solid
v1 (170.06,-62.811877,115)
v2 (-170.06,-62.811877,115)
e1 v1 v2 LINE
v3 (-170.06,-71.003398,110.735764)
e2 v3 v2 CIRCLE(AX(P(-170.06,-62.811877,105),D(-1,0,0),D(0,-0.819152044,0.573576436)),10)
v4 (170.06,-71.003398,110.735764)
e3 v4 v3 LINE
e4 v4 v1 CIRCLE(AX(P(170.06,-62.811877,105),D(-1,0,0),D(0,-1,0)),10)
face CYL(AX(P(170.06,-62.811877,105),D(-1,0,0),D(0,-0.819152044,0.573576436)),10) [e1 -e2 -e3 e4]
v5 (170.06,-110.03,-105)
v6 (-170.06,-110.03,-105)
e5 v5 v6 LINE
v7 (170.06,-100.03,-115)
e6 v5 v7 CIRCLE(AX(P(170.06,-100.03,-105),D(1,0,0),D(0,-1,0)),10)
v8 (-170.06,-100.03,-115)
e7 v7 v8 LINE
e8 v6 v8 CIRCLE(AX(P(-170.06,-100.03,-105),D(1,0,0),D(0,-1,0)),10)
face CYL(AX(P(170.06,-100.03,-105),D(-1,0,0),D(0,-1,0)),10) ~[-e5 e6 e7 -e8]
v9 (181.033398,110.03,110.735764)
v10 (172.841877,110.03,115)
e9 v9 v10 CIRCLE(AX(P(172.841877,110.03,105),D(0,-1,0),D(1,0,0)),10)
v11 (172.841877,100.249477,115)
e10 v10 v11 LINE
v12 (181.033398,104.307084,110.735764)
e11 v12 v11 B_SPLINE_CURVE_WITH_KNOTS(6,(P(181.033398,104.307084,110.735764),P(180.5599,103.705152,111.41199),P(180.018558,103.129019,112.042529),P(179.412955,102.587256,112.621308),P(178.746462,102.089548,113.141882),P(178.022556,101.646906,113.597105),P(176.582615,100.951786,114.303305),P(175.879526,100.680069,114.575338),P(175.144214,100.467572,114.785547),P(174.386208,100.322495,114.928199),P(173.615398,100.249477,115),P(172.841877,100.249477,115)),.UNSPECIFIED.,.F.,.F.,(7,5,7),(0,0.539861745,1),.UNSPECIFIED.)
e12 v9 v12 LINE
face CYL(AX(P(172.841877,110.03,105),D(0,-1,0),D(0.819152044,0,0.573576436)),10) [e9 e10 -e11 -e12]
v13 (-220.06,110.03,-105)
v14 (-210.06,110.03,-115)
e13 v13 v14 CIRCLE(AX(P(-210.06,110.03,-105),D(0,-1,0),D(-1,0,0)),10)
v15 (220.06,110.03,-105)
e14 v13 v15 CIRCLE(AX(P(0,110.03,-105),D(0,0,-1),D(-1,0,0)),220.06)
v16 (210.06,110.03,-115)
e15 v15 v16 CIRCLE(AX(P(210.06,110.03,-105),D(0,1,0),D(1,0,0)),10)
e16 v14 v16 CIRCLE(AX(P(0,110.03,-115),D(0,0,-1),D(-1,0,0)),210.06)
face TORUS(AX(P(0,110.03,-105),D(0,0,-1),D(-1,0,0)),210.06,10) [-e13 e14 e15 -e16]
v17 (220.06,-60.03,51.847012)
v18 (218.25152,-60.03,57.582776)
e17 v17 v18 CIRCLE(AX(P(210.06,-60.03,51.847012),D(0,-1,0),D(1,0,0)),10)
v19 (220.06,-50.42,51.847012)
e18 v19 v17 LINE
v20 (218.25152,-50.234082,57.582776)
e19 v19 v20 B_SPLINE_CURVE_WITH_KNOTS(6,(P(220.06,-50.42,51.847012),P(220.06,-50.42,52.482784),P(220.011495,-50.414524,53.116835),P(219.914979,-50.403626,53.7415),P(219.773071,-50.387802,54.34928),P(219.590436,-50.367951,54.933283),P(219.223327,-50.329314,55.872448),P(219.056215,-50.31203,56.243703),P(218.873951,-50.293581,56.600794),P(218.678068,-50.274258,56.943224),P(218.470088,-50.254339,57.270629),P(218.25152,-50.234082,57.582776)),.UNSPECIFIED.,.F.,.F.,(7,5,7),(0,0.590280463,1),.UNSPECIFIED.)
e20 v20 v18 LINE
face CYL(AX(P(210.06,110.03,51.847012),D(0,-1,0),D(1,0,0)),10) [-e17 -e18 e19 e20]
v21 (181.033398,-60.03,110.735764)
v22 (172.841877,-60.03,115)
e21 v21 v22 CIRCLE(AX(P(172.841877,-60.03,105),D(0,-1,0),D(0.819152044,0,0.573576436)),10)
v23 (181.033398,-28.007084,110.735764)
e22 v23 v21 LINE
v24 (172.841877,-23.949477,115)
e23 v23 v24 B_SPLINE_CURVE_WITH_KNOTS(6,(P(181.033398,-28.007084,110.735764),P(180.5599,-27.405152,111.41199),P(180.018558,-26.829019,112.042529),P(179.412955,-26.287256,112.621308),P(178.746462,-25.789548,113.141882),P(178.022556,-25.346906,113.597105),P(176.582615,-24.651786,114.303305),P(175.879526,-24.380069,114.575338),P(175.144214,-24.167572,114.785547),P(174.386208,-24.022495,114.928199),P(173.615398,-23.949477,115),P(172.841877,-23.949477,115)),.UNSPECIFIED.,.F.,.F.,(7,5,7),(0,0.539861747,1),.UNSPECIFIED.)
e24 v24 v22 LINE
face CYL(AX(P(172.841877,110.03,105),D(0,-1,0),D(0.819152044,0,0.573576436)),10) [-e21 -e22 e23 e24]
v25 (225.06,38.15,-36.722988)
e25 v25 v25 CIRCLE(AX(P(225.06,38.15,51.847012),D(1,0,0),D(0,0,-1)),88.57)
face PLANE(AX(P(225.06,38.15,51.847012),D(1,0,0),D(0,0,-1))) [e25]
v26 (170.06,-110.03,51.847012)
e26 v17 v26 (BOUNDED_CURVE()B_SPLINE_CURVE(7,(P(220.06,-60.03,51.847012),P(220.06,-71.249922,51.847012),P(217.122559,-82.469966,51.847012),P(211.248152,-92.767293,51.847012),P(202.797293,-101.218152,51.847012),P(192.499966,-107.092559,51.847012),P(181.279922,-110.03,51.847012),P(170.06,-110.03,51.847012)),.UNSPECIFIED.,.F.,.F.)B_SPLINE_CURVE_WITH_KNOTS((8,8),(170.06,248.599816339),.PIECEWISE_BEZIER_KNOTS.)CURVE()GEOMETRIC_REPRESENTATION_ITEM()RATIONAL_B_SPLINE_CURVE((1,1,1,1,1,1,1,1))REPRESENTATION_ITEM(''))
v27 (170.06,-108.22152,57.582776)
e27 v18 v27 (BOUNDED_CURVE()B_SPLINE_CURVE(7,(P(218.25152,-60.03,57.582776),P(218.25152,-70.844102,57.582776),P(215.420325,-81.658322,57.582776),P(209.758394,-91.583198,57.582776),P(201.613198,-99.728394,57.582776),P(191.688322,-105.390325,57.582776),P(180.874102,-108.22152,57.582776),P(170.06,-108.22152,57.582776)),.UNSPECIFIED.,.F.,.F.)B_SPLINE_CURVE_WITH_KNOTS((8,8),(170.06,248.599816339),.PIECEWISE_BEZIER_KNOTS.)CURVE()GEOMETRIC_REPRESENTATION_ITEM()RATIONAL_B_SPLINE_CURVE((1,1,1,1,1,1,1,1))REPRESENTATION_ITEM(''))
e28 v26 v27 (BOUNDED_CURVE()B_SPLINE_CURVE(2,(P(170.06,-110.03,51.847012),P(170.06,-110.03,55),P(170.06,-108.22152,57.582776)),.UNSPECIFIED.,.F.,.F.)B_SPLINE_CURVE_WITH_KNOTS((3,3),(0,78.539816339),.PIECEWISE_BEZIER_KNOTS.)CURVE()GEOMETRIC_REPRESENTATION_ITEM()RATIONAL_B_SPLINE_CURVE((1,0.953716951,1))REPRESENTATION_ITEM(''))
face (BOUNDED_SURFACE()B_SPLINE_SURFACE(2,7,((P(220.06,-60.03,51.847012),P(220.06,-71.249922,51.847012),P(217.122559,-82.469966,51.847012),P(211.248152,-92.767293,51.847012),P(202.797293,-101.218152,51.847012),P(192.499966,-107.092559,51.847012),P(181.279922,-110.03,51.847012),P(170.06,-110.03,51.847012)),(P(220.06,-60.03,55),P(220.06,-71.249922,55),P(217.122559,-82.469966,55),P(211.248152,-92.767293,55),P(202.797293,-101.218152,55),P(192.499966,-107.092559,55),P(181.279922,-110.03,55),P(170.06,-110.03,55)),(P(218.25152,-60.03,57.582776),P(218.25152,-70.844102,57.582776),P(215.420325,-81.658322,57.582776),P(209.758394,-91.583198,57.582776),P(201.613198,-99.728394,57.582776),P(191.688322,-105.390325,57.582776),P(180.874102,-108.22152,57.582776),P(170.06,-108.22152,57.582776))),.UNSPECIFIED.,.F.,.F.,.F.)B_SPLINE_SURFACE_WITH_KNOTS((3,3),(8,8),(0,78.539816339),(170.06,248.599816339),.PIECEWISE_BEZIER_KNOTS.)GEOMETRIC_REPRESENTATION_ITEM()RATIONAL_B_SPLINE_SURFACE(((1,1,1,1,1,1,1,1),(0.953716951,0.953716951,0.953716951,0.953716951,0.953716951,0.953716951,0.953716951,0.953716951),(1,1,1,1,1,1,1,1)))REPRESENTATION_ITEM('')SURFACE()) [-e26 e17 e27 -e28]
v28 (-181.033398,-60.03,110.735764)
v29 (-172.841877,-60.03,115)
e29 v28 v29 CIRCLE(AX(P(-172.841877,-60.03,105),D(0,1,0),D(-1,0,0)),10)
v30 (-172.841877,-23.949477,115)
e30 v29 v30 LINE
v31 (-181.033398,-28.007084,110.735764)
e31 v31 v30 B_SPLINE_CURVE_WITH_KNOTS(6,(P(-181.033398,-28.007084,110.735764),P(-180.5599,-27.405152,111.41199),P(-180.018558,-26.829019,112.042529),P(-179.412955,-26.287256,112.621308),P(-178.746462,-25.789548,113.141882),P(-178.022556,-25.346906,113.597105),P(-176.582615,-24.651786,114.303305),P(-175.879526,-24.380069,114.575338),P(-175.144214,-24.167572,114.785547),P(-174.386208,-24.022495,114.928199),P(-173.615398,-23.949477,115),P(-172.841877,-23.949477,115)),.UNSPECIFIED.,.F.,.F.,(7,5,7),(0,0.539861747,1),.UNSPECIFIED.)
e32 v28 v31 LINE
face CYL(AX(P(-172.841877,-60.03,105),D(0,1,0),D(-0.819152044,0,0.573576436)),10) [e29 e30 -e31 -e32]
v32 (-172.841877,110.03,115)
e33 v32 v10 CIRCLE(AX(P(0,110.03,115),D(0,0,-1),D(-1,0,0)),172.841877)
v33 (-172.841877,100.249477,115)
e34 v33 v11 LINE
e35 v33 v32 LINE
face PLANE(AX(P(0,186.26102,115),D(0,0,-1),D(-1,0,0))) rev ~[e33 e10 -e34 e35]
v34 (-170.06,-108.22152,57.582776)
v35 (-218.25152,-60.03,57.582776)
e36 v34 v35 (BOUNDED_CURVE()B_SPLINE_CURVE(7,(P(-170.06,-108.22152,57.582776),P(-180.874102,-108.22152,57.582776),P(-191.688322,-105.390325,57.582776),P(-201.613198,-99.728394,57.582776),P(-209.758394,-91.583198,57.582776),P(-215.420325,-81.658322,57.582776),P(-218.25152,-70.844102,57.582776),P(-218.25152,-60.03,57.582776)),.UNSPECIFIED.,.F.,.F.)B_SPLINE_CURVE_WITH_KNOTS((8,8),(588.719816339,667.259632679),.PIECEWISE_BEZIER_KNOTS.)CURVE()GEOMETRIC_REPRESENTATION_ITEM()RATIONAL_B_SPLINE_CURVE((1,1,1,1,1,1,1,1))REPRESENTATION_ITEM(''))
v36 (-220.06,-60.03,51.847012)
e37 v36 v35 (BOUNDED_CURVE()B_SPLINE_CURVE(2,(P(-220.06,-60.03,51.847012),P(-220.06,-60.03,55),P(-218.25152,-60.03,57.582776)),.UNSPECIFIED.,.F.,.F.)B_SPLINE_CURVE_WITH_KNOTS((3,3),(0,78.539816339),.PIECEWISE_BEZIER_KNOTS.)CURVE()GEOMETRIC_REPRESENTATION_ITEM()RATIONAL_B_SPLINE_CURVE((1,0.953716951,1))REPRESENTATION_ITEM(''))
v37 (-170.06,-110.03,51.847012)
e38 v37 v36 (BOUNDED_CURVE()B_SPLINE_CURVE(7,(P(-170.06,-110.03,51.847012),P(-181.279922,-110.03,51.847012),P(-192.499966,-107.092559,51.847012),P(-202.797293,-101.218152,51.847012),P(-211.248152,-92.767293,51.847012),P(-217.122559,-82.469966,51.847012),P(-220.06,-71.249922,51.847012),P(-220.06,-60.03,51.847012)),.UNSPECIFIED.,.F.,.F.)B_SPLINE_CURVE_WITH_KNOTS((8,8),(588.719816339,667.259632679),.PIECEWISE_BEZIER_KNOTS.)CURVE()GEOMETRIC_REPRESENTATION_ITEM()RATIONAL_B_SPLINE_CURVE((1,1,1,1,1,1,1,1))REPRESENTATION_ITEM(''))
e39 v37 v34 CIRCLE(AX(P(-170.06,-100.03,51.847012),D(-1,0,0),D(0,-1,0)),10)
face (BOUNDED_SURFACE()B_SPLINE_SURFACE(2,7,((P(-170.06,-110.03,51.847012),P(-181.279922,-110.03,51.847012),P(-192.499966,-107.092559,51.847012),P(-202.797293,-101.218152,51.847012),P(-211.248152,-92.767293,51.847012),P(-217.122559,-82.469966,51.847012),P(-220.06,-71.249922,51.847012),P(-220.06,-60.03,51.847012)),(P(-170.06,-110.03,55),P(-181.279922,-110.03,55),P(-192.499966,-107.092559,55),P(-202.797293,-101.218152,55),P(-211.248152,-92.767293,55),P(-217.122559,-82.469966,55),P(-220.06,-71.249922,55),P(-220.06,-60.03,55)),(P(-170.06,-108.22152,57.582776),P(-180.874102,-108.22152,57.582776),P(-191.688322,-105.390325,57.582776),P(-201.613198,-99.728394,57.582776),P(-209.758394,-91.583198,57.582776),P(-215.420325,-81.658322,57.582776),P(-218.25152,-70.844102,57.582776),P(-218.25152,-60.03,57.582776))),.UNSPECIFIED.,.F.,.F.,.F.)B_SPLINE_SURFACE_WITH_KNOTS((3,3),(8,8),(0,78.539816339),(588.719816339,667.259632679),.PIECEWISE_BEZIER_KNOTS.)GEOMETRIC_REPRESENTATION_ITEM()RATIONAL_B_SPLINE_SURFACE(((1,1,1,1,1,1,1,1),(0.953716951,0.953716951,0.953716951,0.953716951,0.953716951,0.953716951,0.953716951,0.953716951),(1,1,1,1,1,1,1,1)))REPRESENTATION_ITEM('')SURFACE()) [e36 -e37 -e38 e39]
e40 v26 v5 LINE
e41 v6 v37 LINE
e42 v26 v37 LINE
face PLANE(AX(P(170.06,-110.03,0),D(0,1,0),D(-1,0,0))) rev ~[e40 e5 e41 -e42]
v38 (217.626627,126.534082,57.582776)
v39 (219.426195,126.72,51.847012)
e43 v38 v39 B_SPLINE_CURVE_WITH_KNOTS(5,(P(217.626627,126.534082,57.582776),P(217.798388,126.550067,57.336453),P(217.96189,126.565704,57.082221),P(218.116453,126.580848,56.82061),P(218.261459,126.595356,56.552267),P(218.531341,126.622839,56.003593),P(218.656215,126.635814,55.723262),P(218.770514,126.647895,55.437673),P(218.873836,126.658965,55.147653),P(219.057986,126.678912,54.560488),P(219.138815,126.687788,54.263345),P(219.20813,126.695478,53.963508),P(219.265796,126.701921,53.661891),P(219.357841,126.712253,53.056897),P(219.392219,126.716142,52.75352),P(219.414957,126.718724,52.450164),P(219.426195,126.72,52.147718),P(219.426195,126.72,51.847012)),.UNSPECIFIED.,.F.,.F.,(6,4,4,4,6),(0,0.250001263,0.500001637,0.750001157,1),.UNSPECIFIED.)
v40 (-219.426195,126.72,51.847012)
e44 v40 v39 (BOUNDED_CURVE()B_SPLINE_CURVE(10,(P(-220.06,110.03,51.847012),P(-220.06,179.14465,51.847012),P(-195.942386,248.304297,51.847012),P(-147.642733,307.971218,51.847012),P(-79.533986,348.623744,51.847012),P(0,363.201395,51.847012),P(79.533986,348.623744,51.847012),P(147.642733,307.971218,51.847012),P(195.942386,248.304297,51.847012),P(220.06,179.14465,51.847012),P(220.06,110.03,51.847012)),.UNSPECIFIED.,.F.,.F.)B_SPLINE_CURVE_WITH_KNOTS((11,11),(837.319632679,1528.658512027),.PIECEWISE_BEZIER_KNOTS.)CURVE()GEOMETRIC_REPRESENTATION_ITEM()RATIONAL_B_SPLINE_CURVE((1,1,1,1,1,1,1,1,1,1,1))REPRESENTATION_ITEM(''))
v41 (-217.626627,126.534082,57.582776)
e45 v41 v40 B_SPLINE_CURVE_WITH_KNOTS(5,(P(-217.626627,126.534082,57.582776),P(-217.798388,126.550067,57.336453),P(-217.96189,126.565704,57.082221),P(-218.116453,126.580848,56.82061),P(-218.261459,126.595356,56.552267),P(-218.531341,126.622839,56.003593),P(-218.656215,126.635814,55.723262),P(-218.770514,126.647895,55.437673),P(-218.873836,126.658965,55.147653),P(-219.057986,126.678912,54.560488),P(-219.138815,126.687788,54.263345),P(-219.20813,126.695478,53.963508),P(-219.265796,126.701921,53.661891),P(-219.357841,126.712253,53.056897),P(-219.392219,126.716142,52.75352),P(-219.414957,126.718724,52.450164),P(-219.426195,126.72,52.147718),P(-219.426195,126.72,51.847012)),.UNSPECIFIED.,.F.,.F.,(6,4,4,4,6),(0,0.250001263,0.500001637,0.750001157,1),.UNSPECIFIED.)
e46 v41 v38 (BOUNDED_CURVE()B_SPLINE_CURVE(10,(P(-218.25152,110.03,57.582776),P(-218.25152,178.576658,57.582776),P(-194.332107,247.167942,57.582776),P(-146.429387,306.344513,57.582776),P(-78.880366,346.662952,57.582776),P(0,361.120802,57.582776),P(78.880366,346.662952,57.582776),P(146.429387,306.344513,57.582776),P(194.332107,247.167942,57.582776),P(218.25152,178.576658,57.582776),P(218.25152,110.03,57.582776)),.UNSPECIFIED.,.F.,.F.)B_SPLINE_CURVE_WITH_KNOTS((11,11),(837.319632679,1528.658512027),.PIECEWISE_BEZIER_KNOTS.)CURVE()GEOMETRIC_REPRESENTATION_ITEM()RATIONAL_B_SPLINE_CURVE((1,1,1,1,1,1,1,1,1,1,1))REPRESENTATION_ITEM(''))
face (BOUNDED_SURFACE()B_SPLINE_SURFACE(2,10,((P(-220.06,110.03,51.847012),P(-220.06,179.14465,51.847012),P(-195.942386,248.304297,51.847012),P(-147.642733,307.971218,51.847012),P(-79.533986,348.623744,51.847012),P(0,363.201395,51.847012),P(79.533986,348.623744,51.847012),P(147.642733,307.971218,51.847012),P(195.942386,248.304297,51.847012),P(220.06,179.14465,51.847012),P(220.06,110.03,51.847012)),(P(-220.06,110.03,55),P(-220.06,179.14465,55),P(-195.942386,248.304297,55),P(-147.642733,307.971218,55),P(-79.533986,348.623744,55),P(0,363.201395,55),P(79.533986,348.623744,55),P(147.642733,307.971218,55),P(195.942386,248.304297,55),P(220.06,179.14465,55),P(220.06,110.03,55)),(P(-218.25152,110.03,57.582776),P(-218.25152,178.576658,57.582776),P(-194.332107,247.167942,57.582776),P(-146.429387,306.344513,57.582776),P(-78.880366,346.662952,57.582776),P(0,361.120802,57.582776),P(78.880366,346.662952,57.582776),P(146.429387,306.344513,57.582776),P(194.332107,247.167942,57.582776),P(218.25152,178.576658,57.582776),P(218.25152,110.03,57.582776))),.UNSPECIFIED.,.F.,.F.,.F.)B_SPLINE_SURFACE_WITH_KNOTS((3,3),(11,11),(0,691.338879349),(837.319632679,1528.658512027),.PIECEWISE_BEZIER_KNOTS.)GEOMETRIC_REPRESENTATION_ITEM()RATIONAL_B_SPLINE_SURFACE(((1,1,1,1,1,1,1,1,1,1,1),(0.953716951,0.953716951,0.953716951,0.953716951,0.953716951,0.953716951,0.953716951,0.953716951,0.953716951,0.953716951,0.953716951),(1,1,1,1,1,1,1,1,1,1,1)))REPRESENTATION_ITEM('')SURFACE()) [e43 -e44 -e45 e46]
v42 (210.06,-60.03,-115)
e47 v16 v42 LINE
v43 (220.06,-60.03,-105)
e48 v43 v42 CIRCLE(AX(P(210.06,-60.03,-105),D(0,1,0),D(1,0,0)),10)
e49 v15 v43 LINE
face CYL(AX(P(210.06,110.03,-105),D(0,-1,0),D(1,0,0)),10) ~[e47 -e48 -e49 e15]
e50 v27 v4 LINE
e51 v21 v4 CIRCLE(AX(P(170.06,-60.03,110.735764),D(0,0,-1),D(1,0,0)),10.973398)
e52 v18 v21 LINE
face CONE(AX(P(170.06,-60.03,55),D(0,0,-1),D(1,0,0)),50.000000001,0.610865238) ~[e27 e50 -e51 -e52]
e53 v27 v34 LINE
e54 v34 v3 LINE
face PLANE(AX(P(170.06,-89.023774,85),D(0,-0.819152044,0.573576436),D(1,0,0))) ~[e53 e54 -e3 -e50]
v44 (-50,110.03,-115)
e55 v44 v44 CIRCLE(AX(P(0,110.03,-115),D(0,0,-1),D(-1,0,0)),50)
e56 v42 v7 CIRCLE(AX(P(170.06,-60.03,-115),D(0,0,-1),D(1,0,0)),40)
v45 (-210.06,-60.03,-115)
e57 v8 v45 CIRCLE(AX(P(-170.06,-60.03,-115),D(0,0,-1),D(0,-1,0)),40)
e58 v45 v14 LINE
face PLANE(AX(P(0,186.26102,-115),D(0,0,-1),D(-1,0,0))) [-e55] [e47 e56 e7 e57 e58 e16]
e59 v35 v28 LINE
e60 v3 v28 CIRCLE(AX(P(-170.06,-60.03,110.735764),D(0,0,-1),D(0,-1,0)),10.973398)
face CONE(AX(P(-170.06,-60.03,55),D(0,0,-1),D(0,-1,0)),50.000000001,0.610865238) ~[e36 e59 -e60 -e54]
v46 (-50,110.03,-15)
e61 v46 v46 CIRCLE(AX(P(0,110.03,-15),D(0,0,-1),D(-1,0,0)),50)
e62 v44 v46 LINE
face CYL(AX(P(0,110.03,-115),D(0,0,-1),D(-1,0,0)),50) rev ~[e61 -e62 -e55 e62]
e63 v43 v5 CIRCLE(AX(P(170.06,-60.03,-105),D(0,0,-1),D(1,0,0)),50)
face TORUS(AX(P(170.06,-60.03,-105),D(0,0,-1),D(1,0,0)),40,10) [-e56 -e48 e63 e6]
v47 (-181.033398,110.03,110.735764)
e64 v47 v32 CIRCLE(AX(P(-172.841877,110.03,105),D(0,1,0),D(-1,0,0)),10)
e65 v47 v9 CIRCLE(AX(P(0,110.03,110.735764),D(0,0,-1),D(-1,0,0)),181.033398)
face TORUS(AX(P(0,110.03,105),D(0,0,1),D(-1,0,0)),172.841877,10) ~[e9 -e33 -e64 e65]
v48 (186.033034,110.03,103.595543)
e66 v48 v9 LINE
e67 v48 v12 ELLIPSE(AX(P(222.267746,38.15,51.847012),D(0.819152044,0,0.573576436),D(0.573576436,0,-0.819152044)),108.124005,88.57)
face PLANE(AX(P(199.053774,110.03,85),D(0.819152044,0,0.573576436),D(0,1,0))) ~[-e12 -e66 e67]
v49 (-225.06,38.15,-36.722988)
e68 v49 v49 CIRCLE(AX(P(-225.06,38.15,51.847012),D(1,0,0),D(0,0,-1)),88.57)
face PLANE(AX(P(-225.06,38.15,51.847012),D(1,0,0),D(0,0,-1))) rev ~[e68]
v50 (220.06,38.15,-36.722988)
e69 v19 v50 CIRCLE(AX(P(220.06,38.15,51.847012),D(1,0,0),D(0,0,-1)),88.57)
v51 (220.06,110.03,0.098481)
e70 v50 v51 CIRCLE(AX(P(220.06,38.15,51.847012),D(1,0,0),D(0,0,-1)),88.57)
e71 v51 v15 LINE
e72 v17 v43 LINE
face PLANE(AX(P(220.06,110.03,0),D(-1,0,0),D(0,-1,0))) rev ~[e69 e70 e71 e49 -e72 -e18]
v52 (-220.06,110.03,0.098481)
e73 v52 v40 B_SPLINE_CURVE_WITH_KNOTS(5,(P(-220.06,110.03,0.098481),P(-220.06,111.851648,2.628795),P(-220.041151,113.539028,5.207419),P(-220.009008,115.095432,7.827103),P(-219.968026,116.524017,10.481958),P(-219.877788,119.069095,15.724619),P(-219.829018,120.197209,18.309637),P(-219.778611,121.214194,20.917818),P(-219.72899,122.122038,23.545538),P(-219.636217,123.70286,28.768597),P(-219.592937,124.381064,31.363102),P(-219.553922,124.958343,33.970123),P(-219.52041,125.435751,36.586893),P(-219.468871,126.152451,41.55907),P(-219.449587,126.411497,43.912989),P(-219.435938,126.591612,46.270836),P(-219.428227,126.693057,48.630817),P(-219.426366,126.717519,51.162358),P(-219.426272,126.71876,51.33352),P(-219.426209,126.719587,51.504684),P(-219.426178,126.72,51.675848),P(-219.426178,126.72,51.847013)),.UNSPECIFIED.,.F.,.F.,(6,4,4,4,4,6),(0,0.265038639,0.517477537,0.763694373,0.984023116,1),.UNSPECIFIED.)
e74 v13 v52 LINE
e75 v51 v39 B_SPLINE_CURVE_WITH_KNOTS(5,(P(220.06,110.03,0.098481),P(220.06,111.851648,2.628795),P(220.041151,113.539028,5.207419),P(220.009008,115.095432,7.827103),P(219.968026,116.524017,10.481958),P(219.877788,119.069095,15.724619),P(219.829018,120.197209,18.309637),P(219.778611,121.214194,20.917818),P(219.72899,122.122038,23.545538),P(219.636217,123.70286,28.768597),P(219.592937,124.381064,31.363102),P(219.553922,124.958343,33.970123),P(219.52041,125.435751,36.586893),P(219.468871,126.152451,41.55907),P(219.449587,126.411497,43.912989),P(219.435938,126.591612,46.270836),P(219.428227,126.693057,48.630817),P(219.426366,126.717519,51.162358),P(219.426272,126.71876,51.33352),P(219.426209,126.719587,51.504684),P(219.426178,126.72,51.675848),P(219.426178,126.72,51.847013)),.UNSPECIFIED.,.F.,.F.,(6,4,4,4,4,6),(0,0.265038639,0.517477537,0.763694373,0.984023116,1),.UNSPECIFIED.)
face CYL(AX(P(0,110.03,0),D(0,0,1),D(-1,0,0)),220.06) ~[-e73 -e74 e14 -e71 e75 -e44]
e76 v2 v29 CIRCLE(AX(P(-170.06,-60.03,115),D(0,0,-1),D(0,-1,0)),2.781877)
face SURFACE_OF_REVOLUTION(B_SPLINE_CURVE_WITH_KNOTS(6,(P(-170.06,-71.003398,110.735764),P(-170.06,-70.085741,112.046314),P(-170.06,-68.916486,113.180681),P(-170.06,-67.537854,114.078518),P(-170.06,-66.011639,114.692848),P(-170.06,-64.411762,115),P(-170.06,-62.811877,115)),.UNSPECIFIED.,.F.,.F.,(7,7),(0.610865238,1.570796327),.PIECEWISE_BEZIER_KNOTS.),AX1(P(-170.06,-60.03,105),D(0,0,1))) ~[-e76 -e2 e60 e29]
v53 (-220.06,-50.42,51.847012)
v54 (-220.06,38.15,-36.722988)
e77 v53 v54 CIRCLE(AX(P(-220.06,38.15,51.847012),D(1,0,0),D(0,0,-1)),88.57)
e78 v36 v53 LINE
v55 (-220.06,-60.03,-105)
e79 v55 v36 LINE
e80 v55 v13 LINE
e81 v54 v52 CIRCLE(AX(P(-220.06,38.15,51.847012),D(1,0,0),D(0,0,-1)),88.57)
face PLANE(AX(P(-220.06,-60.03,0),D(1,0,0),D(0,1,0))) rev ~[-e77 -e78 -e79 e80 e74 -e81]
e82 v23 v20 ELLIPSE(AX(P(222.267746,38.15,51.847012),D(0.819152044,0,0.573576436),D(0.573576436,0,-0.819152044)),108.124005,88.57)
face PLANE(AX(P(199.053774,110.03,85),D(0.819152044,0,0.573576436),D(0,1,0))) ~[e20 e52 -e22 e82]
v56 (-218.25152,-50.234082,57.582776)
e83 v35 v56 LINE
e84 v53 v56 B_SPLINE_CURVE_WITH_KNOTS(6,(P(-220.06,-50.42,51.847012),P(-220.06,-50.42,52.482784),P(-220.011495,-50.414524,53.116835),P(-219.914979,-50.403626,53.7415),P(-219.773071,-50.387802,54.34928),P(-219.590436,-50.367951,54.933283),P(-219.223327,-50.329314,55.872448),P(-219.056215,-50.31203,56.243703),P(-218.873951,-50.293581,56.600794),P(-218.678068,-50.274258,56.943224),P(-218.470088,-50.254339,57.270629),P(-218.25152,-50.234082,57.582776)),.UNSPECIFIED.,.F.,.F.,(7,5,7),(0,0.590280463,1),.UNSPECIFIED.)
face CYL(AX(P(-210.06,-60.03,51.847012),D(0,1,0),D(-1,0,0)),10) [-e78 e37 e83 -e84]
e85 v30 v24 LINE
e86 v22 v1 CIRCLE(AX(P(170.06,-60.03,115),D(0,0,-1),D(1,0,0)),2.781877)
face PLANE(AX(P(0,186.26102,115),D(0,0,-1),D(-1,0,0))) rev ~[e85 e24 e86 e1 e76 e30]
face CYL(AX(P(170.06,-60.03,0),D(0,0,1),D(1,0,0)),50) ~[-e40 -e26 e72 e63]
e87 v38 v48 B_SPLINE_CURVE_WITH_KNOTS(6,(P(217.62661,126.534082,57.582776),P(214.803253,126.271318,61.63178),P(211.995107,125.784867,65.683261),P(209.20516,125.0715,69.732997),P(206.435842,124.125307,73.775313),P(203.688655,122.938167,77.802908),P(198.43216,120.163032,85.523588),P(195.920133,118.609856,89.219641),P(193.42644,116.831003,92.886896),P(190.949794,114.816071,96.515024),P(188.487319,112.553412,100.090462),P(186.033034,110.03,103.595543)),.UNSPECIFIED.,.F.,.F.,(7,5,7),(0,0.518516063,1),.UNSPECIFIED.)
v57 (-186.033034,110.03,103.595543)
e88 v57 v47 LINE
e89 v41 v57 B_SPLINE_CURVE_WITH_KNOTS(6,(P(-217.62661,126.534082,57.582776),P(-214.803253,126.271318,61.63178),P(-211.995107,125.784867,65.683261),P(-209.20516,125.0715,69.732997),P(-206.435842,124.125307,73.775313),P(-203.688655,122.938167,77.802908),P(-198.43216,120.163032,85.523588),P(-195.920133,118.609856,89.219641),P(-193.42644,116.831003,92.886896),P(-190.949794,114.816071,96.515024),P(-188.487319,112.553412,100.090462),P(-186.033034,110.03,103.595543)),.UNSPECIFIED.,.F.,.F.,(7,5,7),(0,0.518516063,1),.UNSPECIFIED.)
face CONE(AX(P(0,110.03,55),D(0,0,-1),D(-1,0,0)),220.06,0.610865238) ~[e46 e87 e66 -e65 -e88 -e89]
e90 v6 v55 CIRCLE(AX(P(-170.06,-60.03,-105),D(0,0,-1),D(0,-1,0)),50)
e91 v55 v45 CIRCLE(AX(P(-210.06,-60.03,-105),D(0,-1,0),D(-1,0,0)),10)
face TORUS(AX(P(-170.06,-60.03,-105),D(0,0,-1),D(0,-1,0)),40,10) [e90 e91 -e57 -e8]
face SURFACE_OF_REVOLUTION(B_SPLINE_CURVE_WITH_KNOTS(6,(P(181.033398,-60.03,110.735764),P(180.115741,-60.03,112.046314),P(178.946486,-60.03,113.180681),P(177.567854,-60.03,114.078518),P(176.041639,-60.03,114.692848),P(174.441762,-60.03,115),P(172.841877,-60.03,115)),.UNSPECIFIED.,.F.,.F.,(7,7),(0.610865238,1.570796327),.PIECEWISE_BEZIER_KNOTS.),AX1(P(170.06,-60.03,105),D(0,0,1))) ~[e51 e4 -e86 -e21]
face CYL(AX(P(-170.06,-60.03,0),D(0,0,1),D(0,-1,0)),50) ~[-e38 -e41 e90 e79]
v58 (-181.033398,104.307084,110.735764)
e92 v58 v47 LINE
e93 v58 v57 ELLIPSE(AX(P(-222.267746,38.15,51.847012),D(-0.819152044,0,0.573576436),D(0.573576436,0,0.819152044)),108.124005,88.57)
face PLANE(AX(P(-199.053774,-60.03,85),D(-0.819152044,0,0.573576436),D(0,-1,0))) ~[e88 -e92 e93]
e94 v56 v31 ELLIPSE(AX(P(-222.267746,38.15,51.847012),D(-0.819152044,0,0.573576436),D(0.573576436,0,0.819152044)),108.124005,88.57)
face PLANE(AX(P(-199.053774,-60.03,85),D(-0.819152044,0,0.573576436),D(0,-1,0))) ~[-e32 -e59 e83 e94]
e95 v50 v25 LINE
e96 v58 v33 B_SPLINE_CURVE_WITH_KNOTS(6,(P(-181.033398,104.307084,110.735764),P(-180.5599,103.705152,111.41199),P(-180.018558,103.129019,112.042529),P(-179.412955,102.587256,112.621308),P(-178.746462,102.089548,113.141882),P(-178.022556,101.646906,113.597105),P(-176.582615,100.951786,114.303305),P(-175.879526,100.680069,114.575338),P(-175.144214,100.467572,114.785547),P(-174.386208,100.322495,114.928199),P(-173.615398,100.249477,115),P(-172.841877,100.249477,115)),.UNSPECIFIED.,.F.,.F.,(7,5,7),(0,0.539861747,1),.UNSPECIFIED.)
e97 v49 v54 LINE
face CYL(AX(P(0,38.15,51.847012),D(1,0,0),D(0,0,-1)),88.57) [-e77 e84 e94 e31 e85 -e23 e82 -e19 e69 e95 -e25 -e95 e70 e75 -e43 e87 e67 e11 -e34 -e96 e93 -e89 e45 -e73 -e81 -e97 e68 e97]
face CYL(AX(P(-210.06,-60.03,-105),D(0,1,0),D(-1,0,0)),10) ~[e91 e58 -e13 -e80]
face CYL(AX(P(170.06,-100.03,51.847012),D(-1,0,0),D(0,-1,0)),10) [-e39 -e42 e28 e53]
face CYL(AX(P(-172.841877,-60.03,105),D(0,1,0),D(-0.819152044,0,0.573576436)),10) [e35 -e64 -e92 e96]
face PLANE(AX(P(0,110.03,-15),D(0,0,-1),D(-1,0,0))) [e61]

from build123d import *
from OCP.BRepFilletAPI import BRepFilletAPI_MakeChamfer

# Parameters (mm, degrees)
BOSS_EXTRUDE1_DEPTH = 115
CHAMFER3_SIZE       = 60
CHAMFER3_SIZE2      = 42.012452293
FILLET1_R           = 10
SKETCH2_R           = 88.57
BOSS_EXTRUDE2_DEPTH = 225.06
SKETCH3_R           = 50
CUT_EXTRUDE1_DEPTH  = 100


with BuildPart() as part:
    # Sketch1 → Boss-Extrude1 (new, symmetric)
    with BuildSketch(Plane.XY):
        with BuildLine():
            ThreePointArc((-220.06, 110.03), (0, 330.09), (220.06, 110.03))
            Line((220.06, 110.03), (-220.06, 110.03))
        make_face()
        with BuildLine():
            ThreePointArc((-170.06, -110.03), (-205.415339059, -95.385339059), (-220.06, -60.03))
            Line((-220.06, -60.03), (-220.06, 110.03))
            Line((-220.06, 110.03), (220.06, 110.03))
            Line((220.06, 110.03), (220.06, -60.03))
            ThreePointArc((220.06, -60.03), (205.415339059, -95.385339059), (170.06, -110.03))
            Line((170.06, -110.03), (-170.06, -110.03))
        make_face()
    extrude(amount=BOSS_EXTRUDE1_DEPTH, both=True)

    # Chamfer3: one chamfer whose edges measure the first distance from different faces: ONE call of the kernel's chamfer builder (chamfer() names one face for all edges)
    chamfer3_edges_1 = [part.edges().sort_by_distance(p)[0] for p in [
        (-220.06, 25, 115),
    ]]
    chamfer3_side_1 = [part.faces().sort_by_distance(p)[0] for p in [
        (-220.06, 25, 0),
    ]]
    chamfer3_edges_2 = [part.edges().sort_by_distance(p)[0] for p in [
        (-205.415339059, -95.385339059, 115),
    ]]
    chamfer3_side_2 = [part.faces().sort_by_distance(p)[0] for p in [
        (-205.415339059, -95.385339059, 0),
    ]]
    chamfer3_edges_3 = [part.edges().sort_by_distance(p)[0] for p in [
        (0, -110.03, 115),
    ]]
    chamfer3_side_3 = [part.faces().sort_by_distance(p)[0] for p in [
        (0, -110.03, 0),
    ]]
    chamfer3_edges_4 = [part.edges().sort_by_distance(p)[0] for p in [
        (205.415339059, -95.385339059, 115),
    ]]
    chamfer3_side_4 = [part.faces().sort_by_distance(p)[0] for p in [
        (205.415339059, -95.385339059, 0),
    ]]
    chamfer3_edges_5 = [part.edges().sort_by_distance(p)[0] for p in [
        (220.06, 25, 115),
    ]]
    chamfer3_side_5 = [part.faces().sort_by_distance(p)[0] for p in [
        (220.06, 25, 0),
    ]]
    chamfer3_edges_6 = [part.edges().sort_by_distance(p)[0] for p in [
        (0, 330.09, 115),
    ]]
    chamfer3_side_6 = [part.faces().sort_by_distance(p)[0] for p in [
        (0, 330.09, 0),
    ]]
    chamfer3 = BRepFilletAPI_MakeChamfer(part.part.solid().wrapped)
    for e in chamfer3_edges_1:
        chamfer3.Add(CHAMFER3_SIZE, CHAMFER3_SIZE2, e.wrapped, chamfer3_side_1[0].wrapped)  # the first distance lies on this face
    for e in chamfer3_edges_2:
        chamfer3.Add(CHAMFER3_SIZE, CHAMFER3_SIZE2, e.wrapped, chamfer3_side_2[0].wrapped)  # the first distance lies on this face
    for e in chamfer3_edges_3:
        chamfer3.Add(CHAMFER3_SIZE, CHAMFER3_SIZE2, e.wrapped, chamfer3_side_3[0].wrapped)  # the first distance lies on this face
    for e in chamfer3_edges_4:
        chamfer3.Add(CHAMFER3_SIZE, CHAMFER3_SIZE2, e.wrapped, chamfer3_side_4[0].wrapped)  # the first distance lies on this face
    for e in chamfer3_edges_5:
        chamfer3.Add(CHAMFER3_SIZE, CHAMFER3_SIZE2, e.wrapped, chamfer3_side_5[0].wrapped)  # the first distance lies on this face
    for e in chamfer3_edges_6:
        chamfer3.Add(CHAMFER3_SIZE, CHAMFER3_SIZE2, e.wrapped, chamfer3_side_6[0].wrapped)  # the first distance lies on this face
    add(Compound.cast(chamfer3.Shape()), mode=Mode.REPLACE)

    # Fillet1
    fillet1_edges = [part.edges().sort_by_distance(p)[0] for p in [
        (0, 330.09, -115),
        (220.06, 25, 55),
        (0, 288.077547707, 115),
        (-178.047547707, 25, 115),
        (-175.708049149, -65.678049149, 115),
        (0, -68.017547707, 115),
        (175.708049149, -65.678049149, 115),
        (178.047547707, 25, 115),
        (205.415339059, -95.385339059, 55),
        (0, -110.03, 55),
        (-205.415339059, -95.385339059, 55),
        (-220.06, 25, 55),
        (0, 330.09, 55),
        (220.06, 25, -115),
        (205.415339059, -95.385339059, -115),
        (0, -110.03, -115),
        (-205.415339059, -95.385339059, -115),
        (-220.06, 25, -115),
    ]]
    fillet(fillet1_edges, radius=FILLET1_R)

    # Sketch2 → Boss-Extrude2 (add, symmetric)
    with BuildSketch(Plane(origin=(0, 0, 0), x_dir=(0, 0, -1), z_dir=(1, 0, 0))):
        with Locations((-51.847012111, 38.15)):
            Circle(SKETCH2_R)
    extrude(amount=BOSS_EXTRUDE2_DEPTH, both=True)

    # Sketch3 → Cut-Extrude1 (cut)
    with BuildSketch(Plane(origin=(0, 0, -115), x_dir=(-1, 0, 0), z_dir=(0, 0, -1))):
        with Locations((0, 110.03)):
            Circle(SKETCH3_R)
    extrude(amount=-CUT_EXTRUDE1_DEPTH, mode=Mode.SUBTRACT)


solid = part.part
